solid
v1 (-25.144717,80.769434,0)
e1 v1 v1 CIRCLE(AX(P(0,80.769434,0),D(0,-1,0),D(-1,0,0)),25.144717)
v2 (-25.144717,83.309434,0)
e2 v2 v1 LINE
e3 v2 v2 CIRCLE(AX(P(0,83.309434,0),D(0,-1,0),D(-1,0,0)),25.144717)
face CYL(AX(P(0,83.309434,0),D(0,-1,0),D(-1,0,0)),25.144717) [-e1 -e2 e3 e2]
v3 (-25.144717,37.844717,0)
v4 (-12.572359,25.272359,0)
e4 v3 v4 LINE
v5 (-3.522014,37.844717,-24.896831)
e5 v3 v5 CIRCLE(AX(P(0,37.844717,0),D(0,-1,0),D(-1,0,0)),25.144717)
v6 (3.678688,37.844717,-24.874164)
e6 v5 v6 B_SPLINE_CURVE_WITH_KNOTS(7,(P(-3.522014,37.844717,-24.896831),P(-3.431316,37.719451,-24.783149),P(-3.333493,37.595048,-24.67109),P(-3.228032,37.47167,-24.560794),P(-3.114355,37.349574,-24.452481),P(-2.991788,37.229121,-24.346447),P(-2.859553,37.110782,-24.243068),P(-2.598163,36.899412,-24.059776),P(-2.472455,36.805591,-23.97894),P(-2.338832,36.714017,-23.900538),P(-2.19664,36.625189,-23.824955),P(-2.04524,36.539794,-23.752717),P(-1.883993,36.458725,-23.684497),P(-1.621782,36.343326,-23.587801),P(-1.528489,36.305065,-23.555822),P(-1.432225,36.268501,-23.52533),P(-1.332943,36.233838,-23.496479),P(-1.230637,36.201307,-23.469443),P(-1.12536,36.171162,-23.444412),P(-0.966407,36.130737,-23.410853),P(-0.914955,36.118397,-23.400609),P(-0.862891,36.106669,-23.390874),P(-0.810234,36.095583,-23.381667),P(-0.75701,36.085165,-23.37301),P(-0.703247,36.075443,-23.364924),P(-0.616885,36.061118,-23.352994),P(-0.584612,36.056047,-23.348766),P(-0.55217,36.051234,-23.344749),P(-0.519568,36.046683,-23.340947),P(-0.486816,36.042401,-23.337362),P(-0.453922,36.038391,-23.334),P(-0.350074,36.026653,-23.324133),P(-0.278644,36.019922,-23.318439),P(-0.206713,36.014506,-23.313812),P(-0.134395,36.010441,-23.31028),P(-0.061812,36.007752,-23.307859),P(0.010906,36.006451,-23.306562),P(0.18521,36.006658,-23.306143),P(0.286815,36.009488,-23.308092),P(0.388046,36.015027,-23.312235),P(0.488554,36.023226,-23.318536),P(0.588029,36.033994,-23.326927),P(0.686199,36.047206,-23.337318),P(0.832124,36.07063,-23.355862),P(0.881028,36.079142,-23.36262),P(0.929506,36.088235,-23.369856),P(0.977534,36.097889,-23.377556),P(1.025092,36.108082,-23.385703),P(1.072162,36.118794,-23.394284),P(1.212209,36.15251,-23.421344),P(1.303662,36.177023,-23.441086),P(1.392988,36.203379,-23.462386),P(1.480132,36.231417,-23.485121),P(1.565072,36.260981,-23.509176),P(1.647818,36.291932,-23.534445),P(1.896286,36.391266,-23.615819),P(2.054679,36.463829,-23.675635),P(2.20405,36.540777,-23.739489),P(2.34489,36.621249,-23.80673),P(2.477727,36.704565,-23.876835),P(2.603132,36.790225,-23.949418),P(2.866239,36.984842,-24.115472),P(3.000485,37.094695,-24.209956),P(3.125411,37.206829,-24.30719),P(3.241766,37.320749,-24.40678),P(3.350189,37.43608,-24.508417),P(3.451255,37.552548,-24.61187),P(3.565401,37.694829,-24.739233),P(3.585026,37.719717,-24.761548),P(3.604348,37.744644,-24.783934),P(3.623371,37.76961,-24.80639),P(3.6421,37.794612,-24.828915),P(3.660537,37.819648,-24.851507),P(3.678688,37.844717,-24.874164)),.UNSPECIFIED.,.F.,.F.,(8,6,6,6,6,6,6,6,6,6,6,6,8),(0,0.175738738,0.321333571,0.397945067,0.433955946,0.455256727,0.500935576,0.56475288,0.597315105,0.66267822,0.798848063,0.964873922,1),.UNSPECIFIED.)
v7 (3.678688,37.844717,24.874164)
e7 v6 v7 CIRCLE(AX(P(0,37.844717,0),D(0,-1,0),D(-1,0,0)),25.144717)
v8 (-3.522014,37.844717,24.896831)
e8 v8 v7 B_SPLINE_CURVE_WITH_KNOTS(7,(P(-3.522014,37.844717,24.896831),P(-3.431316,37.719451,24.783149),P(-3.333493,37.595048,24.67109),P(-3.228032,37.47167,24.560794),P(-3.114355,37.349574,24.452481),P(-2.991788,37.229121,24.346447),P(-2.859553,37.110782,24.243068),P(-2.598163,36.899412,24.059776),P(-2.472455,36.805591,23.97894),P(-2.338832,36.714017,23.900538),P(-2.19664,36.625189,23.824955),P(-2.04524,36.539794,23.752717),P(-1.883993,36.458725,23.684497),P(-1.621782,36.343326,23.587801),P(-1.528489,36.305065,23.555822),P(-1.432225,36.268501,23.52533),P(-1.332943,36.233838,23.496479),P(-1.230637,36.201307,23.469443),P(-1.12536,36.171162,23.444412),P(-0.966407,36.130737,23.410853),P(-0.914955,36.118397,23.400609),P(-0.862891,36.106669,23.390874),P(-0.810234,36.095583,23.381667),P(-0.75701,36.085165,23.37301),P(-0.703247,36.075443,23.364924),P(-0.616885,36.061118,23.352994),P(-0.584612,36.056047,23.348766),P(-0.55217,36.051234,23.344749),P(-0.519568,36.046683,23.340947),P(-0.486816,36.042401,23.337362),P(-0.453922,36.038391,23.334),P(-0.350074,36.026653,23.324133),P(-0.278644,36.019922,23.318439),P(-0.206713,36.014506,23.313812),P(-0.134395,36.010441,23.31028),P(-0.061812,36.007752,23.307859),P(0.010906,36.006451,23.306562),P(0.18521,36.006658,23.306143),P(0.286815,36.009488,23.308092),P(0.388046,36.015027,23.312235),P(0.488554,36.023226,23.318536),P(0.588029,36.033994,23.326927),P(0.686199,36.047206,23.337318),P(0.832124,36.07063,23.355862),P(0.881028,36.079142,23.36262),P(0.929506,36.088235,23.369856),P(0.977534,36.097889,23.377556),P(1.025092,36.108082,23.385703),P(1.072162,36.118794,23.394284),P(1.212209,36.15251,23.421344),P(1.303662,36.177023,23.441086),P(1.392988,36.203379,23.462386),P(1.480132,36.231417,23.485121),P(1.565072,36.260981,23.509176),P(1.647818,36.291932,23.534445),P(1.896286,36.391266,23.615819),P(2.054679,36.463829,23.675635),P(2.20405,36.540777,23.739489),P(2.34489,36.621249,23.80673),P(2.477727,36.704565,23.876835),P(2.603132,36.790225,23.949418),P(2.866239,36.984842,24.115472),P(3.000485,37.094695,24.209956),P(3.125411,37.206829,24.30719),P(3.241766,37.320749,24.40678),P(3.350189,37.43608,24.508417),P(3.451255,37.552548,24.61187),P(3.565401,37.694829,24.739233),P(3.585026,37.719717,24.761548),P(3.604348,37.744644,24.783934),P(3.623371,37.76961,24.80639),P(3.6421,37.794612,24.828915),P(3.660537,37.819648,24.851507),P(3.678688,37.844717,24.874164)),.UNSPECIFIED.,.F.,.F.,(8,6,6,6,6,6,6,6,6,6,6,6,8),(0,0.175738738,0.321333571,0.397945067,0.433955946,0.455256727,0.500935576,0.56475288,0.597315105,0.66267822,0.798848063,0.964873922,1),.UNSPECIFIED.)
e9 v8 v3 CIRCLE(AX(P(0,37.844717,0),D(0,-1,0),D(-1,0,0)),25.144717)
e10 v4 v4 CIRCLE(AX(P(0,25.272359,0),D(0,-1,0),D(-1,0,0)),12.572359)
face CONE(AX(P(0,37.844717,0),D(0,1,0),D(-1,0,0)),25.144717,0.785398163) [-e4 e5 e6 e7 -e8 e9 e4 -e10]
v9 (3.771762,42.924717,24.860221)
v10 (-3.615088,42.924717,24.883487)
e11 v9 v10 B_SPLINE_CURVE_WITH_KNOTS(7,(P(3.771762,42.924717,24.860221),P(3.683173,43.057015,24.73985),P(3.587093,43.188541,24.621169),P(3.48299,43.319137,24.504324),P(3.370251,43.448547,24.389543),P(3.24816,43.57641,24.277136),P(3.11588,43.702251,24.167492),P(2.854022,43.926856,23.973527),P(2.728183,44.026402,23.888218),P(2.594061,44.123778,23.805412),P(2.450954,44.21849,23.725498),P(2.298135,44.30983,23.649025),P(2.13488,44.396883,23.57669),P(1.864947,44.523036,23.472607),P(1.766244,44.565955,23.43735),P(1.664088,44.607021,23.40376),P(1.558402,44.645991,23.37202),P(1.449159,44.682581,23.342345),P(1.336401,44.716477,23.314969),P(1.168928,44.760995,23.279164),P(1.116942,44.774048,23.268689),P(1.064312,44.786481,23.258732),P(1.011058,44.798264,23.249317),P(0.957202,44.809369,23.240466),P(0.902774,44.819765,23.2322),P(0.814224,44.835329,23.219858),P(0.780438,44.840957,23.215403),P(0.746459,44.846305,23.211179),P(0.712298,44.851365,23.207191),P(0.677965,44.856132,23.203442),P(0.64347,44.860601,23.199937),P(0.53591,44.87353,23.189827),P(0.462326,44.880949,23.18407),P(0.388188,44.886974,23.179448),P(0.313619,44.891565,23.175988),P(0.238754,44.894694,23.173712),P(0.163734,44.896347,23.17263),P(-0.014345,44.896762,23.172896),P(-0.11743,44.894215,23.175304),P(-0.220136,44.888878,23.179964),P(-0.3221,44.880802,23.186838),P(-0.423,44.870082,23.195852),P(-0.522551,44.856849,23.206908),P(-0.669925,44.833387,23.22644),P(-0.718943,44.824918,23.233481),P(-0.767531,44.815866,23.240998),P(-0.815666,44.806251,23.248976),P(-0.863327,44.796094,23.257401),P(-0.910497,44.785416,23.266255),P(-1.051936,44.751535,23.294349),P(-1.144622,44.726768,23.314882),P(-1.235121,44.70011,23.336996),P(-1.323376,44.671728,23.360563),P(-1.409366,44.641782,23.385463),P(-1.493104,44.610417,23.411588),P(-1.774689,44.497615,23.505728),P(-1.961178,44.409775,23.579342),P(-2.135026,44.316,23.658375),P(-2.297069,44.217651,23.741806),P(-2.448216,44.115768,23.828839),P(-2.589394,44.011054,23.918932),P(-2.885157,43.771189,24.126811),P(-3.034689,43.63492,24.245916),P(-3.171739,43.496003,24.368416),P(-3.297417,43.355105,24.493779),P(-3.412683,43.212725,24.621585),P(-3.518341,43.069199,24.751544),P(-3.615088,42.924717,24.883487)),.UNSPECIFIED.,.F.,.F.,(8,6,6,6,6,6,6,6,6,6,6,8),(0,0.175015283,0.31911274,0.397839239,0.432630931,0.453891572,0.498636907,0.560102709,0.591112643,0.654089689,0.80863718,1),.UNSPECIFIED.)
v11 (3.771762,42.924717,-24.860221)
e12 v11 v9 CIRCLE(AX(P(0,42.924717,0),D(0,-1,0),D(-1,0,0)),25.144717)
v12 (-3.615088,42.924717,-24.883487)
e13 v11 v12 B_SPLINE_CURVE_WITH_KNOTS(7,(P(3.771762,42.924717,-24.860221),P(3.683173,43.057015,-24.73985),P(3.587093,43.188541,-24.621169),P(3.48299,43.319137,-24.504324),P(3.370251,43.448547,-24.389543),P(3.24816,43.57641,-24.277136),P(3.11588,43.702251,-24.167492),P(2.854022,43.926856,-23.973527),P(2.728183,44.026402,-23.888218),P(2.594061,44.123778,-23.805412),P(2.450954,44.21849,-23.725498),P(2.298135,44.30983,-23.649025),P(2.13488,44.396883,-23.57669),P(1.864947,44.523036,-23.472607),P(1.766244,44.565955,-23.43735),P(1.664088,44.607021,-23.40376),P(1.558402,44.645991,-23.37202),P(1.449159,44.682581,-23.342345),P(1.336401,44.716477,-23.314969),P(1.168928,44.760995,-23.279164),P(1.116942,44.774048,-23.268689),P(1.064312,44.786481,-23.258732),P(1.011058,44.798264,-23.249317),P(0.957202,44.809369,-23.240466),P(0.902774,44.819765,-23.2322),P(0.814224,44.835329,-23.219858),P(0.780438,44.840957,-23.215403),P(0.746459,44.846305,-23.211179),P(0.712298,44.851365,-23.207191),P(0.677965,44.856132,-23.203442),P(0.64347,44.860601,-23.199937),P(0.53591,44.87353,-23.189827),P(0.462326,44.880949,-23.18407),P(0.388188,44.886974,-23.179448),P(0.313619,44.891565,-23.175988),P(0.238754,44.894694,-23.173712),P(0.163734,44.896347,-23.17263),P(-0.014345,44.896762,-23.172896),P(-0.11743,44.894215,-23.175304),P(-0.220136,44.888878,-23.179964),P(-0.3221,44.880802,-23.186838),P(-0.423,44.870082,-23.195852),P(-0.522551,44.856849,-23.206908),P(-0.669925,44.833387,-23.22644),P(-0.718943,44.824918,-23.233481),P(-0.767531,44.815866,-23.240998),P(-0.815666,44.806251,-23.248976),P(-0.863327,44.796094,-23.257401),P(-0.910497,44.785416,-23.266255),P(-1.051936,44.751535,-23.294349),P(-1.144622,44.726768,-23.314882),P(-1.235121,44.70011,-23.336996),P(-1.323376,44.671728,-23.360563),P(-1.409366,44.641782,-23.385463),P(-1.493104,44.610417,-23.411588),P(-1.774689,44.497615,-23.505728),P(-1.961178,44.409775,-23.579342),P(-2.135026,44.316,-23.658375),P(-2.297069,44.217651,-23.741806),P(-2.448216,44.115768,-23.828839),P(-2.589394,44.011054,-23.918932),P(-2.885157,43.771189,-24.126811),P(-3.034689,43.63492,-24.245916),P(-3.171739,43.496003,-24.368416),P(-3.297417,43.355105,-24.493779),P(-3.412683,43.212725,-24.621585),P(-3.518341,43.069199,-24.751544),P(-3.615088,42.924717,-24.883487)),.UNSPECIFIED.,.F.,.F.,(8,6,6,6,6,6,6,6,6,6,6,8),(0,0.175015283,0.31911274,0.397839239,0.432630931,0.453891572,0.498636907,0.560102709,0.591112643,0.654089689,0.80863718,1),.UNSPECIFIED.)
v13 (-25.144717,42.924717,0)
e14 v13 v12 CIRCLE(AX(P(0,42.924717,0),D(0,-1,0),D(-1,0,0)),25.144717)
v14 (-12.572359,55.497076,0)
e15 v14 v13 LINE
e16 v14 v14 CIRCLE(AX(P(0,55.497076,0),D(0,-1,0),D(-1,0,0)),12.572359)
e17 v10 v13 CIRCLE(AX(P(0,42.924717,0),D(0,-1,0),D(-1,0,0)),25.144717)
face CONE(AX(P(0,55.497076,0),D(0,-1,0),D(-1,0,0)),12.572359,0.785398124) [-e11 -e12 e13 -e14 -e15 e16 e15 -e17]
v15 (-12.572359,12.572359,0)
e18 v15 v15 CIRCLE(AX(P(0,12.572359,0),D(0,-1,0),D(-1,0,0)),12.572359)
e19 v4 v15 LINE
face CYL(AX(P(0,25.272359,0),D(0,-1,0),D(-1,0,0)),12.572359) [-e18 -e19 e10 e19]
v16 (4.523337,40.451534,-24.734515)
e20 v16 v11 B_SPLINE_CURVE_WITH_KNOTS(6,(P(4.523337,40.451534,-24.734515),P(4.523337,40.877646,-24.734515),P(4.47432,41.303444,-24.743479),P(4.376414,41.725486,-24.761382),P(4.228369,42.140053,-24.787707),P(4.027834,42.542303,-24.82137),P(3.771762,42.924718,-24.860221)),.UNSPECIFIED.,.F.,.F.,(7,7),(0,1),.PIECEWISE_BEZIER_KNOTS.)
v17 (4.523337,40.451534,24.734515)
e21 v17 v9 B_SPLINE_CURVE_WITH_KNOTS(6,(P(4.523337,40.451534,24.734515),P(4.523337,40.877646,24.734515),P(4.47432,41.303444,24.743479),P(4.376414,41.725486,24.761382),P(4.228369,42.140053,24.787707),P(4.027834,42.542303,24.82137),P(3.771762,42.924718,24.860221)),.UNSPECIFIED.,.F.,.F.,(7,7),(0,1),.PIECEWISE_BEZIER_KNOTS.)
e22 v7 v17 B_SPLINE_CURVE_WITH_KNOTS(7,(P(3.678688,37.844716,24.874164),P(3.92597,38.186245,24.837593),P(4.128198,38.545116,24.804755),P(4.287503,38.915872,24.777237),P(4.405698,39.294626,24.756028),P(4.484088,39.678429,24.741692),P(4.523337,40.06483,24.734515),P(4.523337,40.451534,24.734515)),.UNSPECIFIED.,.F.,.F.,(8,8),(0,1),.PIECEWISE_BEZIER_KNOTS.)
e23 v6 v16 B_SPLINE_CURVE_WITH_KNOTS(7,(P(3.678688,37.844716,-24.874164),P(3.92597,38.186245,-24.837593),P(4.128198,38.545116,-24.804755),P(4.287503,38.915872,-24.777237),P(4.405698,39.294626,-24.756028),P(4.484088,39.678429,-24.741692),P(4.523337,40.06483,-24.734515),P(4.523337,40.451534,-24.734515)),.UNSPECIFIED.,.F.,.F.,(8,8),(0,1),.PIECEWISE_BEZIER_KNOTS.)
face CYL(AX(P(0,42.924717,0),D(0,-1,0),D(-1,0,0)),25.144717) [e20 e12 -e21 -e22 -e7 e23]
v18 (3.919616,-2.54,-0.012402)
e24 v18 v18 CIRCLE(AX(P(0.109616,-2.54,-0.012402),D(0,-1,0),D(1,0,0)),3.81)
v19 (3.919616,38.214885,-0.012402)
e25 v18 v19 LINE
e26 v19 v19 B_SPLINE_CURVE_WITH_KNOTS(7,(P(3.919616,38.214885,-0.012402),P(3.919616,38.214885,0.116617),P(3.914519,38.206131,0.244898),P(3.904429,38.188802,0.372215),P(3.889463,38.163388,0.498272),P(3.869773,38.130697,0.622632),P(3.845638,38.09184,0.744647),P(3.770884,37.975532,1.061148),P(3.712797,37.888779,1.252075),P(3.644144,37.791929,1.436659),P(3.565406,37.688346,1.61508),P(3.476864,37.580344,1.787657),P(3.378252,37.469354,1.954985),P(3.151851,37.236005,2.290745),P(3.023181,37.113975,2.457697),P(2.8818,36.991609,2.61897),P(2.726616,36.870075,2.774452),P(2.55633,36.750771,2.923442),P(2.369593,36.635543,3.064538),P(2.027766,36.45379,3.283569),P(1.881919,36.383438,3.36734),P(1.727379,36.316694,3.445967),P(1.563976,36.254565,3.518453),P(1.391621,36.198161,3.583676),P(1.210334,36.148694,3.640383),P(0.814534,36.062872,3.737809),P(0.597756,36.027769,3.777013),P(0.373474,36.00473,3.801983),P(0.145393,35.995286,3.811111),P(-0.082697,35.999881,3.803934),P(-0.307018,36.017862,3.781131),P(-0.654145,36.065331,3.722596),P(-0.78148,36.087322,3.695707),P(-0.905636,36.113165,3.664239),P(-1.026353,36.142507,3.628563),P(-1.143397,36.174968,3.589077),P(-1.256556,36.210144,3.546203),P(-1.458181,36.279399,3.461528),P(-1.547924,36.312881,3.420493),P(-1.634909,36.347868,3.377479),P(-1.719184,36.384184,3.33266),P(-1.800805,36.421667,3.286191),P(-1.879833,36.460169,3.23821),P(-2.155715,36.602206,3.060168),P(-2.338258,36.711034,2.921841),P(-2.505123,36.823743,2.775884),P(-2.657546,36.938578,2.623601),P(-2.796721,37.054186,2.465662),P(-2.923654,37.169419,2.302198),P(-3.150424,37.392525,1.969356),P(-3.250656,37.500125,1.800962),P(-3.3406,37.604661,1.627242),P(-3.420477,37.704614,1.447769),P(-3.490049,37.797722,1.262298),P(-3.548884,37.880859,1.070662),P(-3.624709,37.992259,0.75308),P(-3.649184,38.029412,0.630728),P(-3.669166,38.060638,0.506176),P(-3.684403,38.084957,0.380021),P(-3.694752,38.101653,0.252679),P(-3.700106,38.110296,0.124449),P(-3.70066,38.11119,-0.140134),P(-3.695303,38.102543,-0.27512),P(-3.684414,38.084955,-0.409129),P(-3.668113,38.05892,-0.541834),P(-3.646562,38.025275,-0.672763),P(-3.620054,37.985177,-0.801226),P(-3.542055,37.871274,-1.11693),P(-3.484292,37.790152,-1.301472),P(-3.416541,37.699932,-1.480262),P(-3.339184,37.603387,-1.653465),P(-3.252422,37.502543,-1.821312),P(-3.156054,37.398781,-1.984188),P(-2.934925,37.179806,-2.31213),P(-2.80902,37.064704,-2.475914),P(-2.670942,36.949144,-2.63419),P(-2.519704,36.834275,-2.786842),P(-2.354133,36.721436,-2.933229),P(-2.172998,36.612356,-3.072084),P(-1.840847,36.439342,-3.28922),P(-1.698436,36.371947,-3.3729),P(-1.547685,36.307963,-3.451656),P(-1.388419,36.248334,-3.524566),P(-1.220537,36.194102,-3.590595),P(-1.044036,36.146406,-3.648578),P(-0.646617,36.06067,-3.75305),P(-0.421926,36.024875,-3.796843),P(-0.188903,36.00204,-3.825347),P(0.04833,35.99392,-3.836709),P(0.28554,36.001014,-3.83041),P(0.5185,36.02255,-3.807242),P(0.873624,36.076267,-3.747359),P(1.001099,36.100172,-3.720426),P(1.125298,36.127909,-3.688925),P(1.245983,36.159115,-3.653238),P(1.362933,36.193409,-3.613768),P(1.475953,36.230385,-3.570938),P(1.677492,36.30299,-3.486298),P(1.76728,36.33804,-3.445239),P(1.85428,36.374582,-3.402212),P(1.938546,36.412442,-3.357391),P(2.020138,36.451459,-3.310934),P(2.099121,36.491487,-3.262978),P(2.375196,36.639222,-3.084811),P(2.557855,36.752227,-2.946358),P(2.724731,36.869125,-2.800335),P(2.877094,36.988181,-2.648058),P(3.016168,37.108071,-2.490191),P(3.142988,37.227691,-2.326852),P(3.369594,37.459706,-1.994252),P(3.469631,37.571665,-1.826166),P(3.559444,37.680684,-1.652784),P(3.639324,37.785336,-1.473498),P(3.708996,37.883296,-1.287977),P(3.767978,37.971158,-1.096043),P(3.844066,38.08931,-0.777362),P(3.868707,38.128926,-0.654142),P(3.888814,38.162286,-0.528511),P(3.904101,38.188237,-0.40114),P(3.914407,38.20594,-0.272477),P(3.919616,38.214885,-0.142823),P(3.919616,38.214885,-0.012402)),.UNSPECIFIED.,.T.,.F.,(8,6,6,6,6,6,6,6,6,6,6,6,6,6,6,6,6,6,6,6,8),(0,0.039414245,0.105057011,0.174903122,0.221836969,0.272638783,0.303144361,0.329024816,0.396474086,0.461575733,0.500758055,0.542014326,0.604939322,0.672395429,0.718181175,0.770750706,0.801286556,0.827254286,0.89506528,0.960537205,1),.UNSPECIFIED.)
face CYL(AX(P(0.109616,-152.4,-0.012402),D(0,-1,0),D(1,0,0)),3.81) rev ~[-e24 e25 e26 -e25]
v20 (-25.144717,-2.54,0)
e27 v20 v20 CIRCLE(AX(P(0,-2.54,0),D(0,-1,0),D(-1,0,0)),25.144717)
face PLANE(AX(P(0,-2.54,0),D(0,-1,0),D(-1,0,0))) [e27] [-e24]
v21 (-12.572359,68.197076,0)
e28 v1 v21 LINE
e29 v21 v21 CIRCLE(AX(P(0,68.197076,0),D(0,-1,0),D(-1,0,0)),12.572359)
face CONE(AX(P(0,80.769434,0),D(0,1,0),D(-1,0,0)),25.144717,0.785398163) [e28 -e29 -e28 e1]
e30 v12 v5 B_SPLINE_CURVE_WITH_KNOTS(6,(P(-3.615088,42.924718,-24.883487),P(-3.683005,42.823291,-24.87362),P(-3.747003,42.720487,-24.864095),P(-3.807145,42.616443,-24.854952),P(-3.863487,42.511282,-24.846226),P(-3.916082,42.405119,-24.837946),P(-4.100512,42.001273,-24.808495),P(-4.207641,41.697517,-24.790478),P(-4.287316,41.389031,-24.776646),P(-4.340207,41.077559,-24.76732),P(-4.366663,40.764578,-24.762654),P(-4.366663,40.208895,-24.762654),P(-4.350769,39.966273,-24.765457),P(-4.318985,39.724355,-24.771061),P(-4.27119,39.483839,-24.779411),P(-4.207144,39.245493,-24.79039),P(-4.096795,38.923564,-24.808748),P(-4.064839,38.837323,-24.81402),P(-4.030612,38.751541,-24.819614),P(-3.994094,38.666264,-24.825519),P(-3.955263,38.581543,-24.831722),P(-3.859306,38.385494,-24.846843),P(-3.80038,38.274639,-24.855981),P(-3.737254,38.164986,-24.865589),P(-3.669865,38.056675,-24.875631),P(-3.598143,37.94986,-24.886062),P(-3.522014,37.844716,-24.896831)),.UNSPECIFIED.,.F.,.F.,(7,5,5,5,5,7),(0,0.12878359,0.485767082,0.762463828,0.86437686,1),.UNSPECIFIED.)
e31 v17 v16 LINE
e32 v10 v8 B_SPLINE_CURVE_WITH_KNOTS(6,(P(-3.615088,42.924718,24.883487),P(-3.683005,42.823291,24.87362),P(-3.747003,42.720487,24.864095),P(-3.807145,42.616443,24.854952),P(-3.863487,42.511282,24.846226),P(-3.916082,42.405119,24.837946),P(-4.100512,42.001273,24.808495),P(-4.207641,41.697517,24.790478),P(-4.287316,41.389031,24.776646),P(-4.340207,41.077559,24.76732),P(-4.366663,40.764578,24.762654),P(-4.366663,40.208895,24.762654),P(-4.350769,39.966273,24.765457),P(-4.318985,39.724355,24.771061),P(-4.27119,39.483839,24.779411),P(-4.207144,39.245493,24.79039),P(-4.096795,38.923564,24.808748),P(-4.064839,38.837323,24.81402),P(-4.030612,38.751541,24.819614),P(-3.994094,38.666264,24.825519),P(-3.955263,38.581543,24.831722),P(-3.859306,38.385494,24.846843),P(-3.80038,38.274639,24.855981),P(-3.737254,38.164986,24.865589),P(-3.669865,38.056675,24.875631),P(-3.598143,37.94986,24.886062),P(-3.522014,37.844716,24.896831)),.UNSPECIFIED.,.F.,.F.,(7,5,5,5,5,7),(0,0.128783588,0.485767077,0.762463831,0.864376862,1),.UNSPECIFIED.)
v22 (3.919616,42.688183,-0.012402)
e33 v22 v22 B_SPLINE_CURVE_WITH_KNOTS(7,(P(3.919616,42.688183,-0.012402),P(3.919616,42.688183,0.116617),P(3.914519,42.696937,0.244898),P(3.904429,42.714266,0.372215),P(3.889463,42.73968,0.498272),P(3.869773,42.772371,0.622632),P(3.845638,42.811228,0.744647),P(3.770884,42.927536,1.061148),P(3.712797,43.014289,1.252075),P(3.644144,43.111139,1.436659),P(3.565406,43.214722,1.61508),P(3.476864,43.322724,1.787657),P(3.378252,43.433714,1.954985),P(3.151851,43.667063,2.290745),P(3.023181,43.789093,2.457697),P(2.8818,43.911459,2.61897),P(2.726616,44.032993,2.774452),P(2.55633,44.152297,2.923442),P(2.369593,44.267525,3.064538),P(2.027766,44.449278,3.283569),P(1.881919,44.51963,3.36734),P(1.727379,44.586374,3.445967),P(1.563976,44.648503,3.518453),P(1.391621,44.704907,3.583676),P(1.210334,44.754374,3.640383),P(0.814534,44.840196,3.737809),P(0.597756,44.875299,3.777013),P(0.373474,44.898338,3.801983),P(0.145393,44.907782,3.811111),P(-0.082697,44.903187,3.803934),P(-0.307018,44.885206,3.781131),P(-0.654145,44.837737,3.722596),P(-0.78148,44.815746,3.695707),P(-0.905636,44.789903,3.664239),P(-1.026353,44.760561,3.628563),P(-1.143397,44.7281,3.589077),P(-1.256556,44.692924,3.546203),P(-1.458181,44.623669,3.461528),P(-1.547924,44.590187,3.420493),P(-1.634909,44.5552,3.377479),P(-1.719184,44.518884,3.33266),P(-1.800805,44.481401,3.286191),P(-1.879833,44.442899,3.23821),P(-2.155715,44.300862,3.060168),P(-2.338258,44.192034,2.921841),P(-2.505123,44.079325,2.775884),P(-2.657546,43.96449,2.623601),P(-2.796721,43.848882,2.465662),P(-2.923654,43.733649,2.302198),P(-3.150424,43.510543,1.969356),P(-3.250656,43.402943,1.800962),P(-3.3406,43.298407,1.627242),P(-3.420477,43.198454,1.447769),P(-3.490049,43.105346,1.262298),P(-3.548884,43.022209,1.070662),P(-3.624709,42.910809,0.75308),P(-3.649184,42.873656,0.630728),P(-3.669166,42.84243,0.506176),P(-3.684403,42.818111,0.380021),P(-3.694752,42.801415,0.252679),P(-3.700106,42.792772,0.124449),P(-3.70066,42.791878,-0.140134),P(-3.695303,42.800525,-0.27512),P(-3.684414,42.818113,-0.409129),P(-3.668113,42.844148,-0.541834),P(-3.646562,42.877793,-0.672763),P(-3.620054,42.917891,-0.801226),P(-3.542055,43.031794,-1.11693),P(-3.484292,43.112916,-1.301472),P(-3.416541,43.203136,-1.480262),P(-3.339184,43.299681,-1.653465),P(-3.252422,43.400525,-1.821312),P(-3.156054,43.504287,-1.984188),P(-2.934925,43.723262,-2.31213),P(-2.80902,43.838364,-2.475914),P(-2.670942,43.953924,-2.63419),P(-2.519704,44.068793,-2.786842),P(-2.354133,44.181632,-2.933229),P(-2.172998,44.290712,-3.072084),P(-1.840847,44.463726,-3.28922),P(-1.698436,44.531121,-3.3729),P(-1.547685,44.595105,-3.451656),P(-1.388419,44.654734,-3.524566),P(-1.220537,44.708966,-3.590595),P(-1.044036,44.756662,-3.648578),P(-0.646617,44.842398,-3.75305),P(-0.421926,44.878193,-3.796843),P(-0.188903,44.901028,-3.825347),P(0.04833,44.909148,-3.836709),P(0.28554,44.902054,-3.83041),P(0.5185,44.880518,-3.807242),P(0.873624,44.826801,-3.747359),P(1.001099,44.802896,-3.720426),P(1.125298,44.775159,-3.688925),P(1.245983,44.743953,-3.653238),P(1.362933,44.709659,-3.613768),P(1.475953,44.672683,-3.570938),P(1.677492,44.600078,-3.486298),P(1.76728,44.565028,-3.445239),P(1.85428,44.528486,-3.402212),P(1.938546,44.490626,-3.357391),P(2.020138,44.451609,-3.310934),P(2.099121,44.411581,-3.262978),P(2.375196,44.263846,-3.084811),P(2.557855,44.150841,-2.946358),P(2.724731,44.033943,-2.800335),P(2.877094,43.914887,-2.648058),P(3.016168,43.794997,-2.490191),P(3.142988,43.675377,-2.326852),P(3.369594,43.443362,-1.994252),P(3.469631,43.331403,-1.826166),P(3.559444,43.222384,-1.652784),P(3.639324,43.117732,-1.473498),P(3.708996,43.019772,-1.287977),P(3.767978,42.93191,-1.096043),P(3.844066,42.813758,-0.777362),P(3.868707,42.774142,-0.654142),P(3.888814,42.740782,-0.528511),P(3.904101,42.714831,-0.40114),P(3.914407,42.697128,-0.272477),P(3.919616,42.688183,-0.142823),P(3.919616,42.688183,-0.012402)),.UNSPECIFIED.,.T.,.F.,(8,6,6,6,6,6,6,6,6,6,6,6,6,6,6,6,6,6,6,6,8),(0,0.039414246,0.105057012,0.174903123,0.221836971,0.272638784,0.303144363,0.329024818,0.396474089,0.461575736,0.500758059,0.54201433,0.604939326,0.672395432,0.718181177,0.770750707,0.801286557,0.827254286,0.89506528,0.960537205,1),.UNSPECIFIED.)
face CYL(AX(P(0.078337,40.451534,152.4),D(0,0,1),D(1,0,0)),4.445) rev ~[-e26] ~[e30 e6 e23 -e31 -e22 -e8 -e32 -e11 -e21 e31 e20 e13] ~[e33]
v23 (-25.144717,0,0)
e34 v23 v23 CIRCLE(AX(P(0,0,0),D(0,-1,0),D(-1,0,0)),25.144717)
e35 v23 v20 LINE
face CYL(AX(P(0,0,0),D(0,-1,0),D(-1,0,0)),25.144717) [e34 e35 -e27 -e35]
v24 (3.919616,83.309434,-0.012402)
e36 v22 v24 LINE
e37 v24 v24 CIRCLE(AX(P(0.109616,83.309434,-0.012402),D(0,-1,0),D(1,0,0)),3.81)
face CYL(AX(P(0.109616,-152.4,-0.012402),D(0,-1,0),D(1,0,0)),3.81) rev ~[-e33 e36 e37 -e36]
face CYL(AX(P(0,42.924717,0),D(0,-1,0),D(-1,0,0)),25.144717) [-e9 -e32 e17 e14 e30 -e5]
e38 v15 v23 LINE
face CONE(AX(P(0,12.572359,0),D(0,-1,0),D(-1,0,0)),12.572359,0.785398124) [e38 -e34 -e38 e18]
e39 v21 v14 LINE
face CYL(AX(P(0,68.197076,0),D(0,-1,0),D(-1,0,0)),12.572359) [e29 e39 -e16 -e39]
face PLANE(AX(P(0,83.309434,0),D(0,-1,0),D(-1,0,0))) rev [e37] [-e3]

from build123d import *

# Parameters (mm, degrees)
F3_R     = 4.445
F4_DEPTH = 177.545717
F6_R     = 3.81
F7_DEPTH = 235.710434


with BuildPart() as f1:
    # F0 (on Top) → F1 (revolve)
    with BuildSketch(Plane.XY):
        Polygon((-12.572359, 12.572359), (-25.144717, 0), (-25.144717, -2.54), (0, -2.54), (0, 0), (0, 80.769434), (0, 83.309434), (-25.144717, 83.309434), (-25.144717, 80.769434), (-12.572359, 68.197076), (-12.572359, 55.497076), (-25.144717, 42.924717), (-25.144717, 40.384717), (-25.144717, 37.844717), (-12.572359, 25.272359), align=None)
    revolve(axis=Axis((0, 40.384717, 0), (0, -1, 0)))

    # F3 (on offset) → F4 (cut, through all)
    with BuildSketch(Plane.XY.offset(152.4)):
        with Locations((0.078337, 40.451534)):
            Circle(F3_R)
    extrude(amount=-F4_DEPTH, mode=Mode.SUBTRACT)

    # F6 (on offset) → F7 (cut, through all)
    with BuildSketch(Plane.XZ.offset(152.4)):
        with Locations((0.109616, -0.012402)):
            Circle(F6_R)
    extrude(amount=-F7_DEPTH, mode=Mode.SUBTRACT)


solid = f1.part
